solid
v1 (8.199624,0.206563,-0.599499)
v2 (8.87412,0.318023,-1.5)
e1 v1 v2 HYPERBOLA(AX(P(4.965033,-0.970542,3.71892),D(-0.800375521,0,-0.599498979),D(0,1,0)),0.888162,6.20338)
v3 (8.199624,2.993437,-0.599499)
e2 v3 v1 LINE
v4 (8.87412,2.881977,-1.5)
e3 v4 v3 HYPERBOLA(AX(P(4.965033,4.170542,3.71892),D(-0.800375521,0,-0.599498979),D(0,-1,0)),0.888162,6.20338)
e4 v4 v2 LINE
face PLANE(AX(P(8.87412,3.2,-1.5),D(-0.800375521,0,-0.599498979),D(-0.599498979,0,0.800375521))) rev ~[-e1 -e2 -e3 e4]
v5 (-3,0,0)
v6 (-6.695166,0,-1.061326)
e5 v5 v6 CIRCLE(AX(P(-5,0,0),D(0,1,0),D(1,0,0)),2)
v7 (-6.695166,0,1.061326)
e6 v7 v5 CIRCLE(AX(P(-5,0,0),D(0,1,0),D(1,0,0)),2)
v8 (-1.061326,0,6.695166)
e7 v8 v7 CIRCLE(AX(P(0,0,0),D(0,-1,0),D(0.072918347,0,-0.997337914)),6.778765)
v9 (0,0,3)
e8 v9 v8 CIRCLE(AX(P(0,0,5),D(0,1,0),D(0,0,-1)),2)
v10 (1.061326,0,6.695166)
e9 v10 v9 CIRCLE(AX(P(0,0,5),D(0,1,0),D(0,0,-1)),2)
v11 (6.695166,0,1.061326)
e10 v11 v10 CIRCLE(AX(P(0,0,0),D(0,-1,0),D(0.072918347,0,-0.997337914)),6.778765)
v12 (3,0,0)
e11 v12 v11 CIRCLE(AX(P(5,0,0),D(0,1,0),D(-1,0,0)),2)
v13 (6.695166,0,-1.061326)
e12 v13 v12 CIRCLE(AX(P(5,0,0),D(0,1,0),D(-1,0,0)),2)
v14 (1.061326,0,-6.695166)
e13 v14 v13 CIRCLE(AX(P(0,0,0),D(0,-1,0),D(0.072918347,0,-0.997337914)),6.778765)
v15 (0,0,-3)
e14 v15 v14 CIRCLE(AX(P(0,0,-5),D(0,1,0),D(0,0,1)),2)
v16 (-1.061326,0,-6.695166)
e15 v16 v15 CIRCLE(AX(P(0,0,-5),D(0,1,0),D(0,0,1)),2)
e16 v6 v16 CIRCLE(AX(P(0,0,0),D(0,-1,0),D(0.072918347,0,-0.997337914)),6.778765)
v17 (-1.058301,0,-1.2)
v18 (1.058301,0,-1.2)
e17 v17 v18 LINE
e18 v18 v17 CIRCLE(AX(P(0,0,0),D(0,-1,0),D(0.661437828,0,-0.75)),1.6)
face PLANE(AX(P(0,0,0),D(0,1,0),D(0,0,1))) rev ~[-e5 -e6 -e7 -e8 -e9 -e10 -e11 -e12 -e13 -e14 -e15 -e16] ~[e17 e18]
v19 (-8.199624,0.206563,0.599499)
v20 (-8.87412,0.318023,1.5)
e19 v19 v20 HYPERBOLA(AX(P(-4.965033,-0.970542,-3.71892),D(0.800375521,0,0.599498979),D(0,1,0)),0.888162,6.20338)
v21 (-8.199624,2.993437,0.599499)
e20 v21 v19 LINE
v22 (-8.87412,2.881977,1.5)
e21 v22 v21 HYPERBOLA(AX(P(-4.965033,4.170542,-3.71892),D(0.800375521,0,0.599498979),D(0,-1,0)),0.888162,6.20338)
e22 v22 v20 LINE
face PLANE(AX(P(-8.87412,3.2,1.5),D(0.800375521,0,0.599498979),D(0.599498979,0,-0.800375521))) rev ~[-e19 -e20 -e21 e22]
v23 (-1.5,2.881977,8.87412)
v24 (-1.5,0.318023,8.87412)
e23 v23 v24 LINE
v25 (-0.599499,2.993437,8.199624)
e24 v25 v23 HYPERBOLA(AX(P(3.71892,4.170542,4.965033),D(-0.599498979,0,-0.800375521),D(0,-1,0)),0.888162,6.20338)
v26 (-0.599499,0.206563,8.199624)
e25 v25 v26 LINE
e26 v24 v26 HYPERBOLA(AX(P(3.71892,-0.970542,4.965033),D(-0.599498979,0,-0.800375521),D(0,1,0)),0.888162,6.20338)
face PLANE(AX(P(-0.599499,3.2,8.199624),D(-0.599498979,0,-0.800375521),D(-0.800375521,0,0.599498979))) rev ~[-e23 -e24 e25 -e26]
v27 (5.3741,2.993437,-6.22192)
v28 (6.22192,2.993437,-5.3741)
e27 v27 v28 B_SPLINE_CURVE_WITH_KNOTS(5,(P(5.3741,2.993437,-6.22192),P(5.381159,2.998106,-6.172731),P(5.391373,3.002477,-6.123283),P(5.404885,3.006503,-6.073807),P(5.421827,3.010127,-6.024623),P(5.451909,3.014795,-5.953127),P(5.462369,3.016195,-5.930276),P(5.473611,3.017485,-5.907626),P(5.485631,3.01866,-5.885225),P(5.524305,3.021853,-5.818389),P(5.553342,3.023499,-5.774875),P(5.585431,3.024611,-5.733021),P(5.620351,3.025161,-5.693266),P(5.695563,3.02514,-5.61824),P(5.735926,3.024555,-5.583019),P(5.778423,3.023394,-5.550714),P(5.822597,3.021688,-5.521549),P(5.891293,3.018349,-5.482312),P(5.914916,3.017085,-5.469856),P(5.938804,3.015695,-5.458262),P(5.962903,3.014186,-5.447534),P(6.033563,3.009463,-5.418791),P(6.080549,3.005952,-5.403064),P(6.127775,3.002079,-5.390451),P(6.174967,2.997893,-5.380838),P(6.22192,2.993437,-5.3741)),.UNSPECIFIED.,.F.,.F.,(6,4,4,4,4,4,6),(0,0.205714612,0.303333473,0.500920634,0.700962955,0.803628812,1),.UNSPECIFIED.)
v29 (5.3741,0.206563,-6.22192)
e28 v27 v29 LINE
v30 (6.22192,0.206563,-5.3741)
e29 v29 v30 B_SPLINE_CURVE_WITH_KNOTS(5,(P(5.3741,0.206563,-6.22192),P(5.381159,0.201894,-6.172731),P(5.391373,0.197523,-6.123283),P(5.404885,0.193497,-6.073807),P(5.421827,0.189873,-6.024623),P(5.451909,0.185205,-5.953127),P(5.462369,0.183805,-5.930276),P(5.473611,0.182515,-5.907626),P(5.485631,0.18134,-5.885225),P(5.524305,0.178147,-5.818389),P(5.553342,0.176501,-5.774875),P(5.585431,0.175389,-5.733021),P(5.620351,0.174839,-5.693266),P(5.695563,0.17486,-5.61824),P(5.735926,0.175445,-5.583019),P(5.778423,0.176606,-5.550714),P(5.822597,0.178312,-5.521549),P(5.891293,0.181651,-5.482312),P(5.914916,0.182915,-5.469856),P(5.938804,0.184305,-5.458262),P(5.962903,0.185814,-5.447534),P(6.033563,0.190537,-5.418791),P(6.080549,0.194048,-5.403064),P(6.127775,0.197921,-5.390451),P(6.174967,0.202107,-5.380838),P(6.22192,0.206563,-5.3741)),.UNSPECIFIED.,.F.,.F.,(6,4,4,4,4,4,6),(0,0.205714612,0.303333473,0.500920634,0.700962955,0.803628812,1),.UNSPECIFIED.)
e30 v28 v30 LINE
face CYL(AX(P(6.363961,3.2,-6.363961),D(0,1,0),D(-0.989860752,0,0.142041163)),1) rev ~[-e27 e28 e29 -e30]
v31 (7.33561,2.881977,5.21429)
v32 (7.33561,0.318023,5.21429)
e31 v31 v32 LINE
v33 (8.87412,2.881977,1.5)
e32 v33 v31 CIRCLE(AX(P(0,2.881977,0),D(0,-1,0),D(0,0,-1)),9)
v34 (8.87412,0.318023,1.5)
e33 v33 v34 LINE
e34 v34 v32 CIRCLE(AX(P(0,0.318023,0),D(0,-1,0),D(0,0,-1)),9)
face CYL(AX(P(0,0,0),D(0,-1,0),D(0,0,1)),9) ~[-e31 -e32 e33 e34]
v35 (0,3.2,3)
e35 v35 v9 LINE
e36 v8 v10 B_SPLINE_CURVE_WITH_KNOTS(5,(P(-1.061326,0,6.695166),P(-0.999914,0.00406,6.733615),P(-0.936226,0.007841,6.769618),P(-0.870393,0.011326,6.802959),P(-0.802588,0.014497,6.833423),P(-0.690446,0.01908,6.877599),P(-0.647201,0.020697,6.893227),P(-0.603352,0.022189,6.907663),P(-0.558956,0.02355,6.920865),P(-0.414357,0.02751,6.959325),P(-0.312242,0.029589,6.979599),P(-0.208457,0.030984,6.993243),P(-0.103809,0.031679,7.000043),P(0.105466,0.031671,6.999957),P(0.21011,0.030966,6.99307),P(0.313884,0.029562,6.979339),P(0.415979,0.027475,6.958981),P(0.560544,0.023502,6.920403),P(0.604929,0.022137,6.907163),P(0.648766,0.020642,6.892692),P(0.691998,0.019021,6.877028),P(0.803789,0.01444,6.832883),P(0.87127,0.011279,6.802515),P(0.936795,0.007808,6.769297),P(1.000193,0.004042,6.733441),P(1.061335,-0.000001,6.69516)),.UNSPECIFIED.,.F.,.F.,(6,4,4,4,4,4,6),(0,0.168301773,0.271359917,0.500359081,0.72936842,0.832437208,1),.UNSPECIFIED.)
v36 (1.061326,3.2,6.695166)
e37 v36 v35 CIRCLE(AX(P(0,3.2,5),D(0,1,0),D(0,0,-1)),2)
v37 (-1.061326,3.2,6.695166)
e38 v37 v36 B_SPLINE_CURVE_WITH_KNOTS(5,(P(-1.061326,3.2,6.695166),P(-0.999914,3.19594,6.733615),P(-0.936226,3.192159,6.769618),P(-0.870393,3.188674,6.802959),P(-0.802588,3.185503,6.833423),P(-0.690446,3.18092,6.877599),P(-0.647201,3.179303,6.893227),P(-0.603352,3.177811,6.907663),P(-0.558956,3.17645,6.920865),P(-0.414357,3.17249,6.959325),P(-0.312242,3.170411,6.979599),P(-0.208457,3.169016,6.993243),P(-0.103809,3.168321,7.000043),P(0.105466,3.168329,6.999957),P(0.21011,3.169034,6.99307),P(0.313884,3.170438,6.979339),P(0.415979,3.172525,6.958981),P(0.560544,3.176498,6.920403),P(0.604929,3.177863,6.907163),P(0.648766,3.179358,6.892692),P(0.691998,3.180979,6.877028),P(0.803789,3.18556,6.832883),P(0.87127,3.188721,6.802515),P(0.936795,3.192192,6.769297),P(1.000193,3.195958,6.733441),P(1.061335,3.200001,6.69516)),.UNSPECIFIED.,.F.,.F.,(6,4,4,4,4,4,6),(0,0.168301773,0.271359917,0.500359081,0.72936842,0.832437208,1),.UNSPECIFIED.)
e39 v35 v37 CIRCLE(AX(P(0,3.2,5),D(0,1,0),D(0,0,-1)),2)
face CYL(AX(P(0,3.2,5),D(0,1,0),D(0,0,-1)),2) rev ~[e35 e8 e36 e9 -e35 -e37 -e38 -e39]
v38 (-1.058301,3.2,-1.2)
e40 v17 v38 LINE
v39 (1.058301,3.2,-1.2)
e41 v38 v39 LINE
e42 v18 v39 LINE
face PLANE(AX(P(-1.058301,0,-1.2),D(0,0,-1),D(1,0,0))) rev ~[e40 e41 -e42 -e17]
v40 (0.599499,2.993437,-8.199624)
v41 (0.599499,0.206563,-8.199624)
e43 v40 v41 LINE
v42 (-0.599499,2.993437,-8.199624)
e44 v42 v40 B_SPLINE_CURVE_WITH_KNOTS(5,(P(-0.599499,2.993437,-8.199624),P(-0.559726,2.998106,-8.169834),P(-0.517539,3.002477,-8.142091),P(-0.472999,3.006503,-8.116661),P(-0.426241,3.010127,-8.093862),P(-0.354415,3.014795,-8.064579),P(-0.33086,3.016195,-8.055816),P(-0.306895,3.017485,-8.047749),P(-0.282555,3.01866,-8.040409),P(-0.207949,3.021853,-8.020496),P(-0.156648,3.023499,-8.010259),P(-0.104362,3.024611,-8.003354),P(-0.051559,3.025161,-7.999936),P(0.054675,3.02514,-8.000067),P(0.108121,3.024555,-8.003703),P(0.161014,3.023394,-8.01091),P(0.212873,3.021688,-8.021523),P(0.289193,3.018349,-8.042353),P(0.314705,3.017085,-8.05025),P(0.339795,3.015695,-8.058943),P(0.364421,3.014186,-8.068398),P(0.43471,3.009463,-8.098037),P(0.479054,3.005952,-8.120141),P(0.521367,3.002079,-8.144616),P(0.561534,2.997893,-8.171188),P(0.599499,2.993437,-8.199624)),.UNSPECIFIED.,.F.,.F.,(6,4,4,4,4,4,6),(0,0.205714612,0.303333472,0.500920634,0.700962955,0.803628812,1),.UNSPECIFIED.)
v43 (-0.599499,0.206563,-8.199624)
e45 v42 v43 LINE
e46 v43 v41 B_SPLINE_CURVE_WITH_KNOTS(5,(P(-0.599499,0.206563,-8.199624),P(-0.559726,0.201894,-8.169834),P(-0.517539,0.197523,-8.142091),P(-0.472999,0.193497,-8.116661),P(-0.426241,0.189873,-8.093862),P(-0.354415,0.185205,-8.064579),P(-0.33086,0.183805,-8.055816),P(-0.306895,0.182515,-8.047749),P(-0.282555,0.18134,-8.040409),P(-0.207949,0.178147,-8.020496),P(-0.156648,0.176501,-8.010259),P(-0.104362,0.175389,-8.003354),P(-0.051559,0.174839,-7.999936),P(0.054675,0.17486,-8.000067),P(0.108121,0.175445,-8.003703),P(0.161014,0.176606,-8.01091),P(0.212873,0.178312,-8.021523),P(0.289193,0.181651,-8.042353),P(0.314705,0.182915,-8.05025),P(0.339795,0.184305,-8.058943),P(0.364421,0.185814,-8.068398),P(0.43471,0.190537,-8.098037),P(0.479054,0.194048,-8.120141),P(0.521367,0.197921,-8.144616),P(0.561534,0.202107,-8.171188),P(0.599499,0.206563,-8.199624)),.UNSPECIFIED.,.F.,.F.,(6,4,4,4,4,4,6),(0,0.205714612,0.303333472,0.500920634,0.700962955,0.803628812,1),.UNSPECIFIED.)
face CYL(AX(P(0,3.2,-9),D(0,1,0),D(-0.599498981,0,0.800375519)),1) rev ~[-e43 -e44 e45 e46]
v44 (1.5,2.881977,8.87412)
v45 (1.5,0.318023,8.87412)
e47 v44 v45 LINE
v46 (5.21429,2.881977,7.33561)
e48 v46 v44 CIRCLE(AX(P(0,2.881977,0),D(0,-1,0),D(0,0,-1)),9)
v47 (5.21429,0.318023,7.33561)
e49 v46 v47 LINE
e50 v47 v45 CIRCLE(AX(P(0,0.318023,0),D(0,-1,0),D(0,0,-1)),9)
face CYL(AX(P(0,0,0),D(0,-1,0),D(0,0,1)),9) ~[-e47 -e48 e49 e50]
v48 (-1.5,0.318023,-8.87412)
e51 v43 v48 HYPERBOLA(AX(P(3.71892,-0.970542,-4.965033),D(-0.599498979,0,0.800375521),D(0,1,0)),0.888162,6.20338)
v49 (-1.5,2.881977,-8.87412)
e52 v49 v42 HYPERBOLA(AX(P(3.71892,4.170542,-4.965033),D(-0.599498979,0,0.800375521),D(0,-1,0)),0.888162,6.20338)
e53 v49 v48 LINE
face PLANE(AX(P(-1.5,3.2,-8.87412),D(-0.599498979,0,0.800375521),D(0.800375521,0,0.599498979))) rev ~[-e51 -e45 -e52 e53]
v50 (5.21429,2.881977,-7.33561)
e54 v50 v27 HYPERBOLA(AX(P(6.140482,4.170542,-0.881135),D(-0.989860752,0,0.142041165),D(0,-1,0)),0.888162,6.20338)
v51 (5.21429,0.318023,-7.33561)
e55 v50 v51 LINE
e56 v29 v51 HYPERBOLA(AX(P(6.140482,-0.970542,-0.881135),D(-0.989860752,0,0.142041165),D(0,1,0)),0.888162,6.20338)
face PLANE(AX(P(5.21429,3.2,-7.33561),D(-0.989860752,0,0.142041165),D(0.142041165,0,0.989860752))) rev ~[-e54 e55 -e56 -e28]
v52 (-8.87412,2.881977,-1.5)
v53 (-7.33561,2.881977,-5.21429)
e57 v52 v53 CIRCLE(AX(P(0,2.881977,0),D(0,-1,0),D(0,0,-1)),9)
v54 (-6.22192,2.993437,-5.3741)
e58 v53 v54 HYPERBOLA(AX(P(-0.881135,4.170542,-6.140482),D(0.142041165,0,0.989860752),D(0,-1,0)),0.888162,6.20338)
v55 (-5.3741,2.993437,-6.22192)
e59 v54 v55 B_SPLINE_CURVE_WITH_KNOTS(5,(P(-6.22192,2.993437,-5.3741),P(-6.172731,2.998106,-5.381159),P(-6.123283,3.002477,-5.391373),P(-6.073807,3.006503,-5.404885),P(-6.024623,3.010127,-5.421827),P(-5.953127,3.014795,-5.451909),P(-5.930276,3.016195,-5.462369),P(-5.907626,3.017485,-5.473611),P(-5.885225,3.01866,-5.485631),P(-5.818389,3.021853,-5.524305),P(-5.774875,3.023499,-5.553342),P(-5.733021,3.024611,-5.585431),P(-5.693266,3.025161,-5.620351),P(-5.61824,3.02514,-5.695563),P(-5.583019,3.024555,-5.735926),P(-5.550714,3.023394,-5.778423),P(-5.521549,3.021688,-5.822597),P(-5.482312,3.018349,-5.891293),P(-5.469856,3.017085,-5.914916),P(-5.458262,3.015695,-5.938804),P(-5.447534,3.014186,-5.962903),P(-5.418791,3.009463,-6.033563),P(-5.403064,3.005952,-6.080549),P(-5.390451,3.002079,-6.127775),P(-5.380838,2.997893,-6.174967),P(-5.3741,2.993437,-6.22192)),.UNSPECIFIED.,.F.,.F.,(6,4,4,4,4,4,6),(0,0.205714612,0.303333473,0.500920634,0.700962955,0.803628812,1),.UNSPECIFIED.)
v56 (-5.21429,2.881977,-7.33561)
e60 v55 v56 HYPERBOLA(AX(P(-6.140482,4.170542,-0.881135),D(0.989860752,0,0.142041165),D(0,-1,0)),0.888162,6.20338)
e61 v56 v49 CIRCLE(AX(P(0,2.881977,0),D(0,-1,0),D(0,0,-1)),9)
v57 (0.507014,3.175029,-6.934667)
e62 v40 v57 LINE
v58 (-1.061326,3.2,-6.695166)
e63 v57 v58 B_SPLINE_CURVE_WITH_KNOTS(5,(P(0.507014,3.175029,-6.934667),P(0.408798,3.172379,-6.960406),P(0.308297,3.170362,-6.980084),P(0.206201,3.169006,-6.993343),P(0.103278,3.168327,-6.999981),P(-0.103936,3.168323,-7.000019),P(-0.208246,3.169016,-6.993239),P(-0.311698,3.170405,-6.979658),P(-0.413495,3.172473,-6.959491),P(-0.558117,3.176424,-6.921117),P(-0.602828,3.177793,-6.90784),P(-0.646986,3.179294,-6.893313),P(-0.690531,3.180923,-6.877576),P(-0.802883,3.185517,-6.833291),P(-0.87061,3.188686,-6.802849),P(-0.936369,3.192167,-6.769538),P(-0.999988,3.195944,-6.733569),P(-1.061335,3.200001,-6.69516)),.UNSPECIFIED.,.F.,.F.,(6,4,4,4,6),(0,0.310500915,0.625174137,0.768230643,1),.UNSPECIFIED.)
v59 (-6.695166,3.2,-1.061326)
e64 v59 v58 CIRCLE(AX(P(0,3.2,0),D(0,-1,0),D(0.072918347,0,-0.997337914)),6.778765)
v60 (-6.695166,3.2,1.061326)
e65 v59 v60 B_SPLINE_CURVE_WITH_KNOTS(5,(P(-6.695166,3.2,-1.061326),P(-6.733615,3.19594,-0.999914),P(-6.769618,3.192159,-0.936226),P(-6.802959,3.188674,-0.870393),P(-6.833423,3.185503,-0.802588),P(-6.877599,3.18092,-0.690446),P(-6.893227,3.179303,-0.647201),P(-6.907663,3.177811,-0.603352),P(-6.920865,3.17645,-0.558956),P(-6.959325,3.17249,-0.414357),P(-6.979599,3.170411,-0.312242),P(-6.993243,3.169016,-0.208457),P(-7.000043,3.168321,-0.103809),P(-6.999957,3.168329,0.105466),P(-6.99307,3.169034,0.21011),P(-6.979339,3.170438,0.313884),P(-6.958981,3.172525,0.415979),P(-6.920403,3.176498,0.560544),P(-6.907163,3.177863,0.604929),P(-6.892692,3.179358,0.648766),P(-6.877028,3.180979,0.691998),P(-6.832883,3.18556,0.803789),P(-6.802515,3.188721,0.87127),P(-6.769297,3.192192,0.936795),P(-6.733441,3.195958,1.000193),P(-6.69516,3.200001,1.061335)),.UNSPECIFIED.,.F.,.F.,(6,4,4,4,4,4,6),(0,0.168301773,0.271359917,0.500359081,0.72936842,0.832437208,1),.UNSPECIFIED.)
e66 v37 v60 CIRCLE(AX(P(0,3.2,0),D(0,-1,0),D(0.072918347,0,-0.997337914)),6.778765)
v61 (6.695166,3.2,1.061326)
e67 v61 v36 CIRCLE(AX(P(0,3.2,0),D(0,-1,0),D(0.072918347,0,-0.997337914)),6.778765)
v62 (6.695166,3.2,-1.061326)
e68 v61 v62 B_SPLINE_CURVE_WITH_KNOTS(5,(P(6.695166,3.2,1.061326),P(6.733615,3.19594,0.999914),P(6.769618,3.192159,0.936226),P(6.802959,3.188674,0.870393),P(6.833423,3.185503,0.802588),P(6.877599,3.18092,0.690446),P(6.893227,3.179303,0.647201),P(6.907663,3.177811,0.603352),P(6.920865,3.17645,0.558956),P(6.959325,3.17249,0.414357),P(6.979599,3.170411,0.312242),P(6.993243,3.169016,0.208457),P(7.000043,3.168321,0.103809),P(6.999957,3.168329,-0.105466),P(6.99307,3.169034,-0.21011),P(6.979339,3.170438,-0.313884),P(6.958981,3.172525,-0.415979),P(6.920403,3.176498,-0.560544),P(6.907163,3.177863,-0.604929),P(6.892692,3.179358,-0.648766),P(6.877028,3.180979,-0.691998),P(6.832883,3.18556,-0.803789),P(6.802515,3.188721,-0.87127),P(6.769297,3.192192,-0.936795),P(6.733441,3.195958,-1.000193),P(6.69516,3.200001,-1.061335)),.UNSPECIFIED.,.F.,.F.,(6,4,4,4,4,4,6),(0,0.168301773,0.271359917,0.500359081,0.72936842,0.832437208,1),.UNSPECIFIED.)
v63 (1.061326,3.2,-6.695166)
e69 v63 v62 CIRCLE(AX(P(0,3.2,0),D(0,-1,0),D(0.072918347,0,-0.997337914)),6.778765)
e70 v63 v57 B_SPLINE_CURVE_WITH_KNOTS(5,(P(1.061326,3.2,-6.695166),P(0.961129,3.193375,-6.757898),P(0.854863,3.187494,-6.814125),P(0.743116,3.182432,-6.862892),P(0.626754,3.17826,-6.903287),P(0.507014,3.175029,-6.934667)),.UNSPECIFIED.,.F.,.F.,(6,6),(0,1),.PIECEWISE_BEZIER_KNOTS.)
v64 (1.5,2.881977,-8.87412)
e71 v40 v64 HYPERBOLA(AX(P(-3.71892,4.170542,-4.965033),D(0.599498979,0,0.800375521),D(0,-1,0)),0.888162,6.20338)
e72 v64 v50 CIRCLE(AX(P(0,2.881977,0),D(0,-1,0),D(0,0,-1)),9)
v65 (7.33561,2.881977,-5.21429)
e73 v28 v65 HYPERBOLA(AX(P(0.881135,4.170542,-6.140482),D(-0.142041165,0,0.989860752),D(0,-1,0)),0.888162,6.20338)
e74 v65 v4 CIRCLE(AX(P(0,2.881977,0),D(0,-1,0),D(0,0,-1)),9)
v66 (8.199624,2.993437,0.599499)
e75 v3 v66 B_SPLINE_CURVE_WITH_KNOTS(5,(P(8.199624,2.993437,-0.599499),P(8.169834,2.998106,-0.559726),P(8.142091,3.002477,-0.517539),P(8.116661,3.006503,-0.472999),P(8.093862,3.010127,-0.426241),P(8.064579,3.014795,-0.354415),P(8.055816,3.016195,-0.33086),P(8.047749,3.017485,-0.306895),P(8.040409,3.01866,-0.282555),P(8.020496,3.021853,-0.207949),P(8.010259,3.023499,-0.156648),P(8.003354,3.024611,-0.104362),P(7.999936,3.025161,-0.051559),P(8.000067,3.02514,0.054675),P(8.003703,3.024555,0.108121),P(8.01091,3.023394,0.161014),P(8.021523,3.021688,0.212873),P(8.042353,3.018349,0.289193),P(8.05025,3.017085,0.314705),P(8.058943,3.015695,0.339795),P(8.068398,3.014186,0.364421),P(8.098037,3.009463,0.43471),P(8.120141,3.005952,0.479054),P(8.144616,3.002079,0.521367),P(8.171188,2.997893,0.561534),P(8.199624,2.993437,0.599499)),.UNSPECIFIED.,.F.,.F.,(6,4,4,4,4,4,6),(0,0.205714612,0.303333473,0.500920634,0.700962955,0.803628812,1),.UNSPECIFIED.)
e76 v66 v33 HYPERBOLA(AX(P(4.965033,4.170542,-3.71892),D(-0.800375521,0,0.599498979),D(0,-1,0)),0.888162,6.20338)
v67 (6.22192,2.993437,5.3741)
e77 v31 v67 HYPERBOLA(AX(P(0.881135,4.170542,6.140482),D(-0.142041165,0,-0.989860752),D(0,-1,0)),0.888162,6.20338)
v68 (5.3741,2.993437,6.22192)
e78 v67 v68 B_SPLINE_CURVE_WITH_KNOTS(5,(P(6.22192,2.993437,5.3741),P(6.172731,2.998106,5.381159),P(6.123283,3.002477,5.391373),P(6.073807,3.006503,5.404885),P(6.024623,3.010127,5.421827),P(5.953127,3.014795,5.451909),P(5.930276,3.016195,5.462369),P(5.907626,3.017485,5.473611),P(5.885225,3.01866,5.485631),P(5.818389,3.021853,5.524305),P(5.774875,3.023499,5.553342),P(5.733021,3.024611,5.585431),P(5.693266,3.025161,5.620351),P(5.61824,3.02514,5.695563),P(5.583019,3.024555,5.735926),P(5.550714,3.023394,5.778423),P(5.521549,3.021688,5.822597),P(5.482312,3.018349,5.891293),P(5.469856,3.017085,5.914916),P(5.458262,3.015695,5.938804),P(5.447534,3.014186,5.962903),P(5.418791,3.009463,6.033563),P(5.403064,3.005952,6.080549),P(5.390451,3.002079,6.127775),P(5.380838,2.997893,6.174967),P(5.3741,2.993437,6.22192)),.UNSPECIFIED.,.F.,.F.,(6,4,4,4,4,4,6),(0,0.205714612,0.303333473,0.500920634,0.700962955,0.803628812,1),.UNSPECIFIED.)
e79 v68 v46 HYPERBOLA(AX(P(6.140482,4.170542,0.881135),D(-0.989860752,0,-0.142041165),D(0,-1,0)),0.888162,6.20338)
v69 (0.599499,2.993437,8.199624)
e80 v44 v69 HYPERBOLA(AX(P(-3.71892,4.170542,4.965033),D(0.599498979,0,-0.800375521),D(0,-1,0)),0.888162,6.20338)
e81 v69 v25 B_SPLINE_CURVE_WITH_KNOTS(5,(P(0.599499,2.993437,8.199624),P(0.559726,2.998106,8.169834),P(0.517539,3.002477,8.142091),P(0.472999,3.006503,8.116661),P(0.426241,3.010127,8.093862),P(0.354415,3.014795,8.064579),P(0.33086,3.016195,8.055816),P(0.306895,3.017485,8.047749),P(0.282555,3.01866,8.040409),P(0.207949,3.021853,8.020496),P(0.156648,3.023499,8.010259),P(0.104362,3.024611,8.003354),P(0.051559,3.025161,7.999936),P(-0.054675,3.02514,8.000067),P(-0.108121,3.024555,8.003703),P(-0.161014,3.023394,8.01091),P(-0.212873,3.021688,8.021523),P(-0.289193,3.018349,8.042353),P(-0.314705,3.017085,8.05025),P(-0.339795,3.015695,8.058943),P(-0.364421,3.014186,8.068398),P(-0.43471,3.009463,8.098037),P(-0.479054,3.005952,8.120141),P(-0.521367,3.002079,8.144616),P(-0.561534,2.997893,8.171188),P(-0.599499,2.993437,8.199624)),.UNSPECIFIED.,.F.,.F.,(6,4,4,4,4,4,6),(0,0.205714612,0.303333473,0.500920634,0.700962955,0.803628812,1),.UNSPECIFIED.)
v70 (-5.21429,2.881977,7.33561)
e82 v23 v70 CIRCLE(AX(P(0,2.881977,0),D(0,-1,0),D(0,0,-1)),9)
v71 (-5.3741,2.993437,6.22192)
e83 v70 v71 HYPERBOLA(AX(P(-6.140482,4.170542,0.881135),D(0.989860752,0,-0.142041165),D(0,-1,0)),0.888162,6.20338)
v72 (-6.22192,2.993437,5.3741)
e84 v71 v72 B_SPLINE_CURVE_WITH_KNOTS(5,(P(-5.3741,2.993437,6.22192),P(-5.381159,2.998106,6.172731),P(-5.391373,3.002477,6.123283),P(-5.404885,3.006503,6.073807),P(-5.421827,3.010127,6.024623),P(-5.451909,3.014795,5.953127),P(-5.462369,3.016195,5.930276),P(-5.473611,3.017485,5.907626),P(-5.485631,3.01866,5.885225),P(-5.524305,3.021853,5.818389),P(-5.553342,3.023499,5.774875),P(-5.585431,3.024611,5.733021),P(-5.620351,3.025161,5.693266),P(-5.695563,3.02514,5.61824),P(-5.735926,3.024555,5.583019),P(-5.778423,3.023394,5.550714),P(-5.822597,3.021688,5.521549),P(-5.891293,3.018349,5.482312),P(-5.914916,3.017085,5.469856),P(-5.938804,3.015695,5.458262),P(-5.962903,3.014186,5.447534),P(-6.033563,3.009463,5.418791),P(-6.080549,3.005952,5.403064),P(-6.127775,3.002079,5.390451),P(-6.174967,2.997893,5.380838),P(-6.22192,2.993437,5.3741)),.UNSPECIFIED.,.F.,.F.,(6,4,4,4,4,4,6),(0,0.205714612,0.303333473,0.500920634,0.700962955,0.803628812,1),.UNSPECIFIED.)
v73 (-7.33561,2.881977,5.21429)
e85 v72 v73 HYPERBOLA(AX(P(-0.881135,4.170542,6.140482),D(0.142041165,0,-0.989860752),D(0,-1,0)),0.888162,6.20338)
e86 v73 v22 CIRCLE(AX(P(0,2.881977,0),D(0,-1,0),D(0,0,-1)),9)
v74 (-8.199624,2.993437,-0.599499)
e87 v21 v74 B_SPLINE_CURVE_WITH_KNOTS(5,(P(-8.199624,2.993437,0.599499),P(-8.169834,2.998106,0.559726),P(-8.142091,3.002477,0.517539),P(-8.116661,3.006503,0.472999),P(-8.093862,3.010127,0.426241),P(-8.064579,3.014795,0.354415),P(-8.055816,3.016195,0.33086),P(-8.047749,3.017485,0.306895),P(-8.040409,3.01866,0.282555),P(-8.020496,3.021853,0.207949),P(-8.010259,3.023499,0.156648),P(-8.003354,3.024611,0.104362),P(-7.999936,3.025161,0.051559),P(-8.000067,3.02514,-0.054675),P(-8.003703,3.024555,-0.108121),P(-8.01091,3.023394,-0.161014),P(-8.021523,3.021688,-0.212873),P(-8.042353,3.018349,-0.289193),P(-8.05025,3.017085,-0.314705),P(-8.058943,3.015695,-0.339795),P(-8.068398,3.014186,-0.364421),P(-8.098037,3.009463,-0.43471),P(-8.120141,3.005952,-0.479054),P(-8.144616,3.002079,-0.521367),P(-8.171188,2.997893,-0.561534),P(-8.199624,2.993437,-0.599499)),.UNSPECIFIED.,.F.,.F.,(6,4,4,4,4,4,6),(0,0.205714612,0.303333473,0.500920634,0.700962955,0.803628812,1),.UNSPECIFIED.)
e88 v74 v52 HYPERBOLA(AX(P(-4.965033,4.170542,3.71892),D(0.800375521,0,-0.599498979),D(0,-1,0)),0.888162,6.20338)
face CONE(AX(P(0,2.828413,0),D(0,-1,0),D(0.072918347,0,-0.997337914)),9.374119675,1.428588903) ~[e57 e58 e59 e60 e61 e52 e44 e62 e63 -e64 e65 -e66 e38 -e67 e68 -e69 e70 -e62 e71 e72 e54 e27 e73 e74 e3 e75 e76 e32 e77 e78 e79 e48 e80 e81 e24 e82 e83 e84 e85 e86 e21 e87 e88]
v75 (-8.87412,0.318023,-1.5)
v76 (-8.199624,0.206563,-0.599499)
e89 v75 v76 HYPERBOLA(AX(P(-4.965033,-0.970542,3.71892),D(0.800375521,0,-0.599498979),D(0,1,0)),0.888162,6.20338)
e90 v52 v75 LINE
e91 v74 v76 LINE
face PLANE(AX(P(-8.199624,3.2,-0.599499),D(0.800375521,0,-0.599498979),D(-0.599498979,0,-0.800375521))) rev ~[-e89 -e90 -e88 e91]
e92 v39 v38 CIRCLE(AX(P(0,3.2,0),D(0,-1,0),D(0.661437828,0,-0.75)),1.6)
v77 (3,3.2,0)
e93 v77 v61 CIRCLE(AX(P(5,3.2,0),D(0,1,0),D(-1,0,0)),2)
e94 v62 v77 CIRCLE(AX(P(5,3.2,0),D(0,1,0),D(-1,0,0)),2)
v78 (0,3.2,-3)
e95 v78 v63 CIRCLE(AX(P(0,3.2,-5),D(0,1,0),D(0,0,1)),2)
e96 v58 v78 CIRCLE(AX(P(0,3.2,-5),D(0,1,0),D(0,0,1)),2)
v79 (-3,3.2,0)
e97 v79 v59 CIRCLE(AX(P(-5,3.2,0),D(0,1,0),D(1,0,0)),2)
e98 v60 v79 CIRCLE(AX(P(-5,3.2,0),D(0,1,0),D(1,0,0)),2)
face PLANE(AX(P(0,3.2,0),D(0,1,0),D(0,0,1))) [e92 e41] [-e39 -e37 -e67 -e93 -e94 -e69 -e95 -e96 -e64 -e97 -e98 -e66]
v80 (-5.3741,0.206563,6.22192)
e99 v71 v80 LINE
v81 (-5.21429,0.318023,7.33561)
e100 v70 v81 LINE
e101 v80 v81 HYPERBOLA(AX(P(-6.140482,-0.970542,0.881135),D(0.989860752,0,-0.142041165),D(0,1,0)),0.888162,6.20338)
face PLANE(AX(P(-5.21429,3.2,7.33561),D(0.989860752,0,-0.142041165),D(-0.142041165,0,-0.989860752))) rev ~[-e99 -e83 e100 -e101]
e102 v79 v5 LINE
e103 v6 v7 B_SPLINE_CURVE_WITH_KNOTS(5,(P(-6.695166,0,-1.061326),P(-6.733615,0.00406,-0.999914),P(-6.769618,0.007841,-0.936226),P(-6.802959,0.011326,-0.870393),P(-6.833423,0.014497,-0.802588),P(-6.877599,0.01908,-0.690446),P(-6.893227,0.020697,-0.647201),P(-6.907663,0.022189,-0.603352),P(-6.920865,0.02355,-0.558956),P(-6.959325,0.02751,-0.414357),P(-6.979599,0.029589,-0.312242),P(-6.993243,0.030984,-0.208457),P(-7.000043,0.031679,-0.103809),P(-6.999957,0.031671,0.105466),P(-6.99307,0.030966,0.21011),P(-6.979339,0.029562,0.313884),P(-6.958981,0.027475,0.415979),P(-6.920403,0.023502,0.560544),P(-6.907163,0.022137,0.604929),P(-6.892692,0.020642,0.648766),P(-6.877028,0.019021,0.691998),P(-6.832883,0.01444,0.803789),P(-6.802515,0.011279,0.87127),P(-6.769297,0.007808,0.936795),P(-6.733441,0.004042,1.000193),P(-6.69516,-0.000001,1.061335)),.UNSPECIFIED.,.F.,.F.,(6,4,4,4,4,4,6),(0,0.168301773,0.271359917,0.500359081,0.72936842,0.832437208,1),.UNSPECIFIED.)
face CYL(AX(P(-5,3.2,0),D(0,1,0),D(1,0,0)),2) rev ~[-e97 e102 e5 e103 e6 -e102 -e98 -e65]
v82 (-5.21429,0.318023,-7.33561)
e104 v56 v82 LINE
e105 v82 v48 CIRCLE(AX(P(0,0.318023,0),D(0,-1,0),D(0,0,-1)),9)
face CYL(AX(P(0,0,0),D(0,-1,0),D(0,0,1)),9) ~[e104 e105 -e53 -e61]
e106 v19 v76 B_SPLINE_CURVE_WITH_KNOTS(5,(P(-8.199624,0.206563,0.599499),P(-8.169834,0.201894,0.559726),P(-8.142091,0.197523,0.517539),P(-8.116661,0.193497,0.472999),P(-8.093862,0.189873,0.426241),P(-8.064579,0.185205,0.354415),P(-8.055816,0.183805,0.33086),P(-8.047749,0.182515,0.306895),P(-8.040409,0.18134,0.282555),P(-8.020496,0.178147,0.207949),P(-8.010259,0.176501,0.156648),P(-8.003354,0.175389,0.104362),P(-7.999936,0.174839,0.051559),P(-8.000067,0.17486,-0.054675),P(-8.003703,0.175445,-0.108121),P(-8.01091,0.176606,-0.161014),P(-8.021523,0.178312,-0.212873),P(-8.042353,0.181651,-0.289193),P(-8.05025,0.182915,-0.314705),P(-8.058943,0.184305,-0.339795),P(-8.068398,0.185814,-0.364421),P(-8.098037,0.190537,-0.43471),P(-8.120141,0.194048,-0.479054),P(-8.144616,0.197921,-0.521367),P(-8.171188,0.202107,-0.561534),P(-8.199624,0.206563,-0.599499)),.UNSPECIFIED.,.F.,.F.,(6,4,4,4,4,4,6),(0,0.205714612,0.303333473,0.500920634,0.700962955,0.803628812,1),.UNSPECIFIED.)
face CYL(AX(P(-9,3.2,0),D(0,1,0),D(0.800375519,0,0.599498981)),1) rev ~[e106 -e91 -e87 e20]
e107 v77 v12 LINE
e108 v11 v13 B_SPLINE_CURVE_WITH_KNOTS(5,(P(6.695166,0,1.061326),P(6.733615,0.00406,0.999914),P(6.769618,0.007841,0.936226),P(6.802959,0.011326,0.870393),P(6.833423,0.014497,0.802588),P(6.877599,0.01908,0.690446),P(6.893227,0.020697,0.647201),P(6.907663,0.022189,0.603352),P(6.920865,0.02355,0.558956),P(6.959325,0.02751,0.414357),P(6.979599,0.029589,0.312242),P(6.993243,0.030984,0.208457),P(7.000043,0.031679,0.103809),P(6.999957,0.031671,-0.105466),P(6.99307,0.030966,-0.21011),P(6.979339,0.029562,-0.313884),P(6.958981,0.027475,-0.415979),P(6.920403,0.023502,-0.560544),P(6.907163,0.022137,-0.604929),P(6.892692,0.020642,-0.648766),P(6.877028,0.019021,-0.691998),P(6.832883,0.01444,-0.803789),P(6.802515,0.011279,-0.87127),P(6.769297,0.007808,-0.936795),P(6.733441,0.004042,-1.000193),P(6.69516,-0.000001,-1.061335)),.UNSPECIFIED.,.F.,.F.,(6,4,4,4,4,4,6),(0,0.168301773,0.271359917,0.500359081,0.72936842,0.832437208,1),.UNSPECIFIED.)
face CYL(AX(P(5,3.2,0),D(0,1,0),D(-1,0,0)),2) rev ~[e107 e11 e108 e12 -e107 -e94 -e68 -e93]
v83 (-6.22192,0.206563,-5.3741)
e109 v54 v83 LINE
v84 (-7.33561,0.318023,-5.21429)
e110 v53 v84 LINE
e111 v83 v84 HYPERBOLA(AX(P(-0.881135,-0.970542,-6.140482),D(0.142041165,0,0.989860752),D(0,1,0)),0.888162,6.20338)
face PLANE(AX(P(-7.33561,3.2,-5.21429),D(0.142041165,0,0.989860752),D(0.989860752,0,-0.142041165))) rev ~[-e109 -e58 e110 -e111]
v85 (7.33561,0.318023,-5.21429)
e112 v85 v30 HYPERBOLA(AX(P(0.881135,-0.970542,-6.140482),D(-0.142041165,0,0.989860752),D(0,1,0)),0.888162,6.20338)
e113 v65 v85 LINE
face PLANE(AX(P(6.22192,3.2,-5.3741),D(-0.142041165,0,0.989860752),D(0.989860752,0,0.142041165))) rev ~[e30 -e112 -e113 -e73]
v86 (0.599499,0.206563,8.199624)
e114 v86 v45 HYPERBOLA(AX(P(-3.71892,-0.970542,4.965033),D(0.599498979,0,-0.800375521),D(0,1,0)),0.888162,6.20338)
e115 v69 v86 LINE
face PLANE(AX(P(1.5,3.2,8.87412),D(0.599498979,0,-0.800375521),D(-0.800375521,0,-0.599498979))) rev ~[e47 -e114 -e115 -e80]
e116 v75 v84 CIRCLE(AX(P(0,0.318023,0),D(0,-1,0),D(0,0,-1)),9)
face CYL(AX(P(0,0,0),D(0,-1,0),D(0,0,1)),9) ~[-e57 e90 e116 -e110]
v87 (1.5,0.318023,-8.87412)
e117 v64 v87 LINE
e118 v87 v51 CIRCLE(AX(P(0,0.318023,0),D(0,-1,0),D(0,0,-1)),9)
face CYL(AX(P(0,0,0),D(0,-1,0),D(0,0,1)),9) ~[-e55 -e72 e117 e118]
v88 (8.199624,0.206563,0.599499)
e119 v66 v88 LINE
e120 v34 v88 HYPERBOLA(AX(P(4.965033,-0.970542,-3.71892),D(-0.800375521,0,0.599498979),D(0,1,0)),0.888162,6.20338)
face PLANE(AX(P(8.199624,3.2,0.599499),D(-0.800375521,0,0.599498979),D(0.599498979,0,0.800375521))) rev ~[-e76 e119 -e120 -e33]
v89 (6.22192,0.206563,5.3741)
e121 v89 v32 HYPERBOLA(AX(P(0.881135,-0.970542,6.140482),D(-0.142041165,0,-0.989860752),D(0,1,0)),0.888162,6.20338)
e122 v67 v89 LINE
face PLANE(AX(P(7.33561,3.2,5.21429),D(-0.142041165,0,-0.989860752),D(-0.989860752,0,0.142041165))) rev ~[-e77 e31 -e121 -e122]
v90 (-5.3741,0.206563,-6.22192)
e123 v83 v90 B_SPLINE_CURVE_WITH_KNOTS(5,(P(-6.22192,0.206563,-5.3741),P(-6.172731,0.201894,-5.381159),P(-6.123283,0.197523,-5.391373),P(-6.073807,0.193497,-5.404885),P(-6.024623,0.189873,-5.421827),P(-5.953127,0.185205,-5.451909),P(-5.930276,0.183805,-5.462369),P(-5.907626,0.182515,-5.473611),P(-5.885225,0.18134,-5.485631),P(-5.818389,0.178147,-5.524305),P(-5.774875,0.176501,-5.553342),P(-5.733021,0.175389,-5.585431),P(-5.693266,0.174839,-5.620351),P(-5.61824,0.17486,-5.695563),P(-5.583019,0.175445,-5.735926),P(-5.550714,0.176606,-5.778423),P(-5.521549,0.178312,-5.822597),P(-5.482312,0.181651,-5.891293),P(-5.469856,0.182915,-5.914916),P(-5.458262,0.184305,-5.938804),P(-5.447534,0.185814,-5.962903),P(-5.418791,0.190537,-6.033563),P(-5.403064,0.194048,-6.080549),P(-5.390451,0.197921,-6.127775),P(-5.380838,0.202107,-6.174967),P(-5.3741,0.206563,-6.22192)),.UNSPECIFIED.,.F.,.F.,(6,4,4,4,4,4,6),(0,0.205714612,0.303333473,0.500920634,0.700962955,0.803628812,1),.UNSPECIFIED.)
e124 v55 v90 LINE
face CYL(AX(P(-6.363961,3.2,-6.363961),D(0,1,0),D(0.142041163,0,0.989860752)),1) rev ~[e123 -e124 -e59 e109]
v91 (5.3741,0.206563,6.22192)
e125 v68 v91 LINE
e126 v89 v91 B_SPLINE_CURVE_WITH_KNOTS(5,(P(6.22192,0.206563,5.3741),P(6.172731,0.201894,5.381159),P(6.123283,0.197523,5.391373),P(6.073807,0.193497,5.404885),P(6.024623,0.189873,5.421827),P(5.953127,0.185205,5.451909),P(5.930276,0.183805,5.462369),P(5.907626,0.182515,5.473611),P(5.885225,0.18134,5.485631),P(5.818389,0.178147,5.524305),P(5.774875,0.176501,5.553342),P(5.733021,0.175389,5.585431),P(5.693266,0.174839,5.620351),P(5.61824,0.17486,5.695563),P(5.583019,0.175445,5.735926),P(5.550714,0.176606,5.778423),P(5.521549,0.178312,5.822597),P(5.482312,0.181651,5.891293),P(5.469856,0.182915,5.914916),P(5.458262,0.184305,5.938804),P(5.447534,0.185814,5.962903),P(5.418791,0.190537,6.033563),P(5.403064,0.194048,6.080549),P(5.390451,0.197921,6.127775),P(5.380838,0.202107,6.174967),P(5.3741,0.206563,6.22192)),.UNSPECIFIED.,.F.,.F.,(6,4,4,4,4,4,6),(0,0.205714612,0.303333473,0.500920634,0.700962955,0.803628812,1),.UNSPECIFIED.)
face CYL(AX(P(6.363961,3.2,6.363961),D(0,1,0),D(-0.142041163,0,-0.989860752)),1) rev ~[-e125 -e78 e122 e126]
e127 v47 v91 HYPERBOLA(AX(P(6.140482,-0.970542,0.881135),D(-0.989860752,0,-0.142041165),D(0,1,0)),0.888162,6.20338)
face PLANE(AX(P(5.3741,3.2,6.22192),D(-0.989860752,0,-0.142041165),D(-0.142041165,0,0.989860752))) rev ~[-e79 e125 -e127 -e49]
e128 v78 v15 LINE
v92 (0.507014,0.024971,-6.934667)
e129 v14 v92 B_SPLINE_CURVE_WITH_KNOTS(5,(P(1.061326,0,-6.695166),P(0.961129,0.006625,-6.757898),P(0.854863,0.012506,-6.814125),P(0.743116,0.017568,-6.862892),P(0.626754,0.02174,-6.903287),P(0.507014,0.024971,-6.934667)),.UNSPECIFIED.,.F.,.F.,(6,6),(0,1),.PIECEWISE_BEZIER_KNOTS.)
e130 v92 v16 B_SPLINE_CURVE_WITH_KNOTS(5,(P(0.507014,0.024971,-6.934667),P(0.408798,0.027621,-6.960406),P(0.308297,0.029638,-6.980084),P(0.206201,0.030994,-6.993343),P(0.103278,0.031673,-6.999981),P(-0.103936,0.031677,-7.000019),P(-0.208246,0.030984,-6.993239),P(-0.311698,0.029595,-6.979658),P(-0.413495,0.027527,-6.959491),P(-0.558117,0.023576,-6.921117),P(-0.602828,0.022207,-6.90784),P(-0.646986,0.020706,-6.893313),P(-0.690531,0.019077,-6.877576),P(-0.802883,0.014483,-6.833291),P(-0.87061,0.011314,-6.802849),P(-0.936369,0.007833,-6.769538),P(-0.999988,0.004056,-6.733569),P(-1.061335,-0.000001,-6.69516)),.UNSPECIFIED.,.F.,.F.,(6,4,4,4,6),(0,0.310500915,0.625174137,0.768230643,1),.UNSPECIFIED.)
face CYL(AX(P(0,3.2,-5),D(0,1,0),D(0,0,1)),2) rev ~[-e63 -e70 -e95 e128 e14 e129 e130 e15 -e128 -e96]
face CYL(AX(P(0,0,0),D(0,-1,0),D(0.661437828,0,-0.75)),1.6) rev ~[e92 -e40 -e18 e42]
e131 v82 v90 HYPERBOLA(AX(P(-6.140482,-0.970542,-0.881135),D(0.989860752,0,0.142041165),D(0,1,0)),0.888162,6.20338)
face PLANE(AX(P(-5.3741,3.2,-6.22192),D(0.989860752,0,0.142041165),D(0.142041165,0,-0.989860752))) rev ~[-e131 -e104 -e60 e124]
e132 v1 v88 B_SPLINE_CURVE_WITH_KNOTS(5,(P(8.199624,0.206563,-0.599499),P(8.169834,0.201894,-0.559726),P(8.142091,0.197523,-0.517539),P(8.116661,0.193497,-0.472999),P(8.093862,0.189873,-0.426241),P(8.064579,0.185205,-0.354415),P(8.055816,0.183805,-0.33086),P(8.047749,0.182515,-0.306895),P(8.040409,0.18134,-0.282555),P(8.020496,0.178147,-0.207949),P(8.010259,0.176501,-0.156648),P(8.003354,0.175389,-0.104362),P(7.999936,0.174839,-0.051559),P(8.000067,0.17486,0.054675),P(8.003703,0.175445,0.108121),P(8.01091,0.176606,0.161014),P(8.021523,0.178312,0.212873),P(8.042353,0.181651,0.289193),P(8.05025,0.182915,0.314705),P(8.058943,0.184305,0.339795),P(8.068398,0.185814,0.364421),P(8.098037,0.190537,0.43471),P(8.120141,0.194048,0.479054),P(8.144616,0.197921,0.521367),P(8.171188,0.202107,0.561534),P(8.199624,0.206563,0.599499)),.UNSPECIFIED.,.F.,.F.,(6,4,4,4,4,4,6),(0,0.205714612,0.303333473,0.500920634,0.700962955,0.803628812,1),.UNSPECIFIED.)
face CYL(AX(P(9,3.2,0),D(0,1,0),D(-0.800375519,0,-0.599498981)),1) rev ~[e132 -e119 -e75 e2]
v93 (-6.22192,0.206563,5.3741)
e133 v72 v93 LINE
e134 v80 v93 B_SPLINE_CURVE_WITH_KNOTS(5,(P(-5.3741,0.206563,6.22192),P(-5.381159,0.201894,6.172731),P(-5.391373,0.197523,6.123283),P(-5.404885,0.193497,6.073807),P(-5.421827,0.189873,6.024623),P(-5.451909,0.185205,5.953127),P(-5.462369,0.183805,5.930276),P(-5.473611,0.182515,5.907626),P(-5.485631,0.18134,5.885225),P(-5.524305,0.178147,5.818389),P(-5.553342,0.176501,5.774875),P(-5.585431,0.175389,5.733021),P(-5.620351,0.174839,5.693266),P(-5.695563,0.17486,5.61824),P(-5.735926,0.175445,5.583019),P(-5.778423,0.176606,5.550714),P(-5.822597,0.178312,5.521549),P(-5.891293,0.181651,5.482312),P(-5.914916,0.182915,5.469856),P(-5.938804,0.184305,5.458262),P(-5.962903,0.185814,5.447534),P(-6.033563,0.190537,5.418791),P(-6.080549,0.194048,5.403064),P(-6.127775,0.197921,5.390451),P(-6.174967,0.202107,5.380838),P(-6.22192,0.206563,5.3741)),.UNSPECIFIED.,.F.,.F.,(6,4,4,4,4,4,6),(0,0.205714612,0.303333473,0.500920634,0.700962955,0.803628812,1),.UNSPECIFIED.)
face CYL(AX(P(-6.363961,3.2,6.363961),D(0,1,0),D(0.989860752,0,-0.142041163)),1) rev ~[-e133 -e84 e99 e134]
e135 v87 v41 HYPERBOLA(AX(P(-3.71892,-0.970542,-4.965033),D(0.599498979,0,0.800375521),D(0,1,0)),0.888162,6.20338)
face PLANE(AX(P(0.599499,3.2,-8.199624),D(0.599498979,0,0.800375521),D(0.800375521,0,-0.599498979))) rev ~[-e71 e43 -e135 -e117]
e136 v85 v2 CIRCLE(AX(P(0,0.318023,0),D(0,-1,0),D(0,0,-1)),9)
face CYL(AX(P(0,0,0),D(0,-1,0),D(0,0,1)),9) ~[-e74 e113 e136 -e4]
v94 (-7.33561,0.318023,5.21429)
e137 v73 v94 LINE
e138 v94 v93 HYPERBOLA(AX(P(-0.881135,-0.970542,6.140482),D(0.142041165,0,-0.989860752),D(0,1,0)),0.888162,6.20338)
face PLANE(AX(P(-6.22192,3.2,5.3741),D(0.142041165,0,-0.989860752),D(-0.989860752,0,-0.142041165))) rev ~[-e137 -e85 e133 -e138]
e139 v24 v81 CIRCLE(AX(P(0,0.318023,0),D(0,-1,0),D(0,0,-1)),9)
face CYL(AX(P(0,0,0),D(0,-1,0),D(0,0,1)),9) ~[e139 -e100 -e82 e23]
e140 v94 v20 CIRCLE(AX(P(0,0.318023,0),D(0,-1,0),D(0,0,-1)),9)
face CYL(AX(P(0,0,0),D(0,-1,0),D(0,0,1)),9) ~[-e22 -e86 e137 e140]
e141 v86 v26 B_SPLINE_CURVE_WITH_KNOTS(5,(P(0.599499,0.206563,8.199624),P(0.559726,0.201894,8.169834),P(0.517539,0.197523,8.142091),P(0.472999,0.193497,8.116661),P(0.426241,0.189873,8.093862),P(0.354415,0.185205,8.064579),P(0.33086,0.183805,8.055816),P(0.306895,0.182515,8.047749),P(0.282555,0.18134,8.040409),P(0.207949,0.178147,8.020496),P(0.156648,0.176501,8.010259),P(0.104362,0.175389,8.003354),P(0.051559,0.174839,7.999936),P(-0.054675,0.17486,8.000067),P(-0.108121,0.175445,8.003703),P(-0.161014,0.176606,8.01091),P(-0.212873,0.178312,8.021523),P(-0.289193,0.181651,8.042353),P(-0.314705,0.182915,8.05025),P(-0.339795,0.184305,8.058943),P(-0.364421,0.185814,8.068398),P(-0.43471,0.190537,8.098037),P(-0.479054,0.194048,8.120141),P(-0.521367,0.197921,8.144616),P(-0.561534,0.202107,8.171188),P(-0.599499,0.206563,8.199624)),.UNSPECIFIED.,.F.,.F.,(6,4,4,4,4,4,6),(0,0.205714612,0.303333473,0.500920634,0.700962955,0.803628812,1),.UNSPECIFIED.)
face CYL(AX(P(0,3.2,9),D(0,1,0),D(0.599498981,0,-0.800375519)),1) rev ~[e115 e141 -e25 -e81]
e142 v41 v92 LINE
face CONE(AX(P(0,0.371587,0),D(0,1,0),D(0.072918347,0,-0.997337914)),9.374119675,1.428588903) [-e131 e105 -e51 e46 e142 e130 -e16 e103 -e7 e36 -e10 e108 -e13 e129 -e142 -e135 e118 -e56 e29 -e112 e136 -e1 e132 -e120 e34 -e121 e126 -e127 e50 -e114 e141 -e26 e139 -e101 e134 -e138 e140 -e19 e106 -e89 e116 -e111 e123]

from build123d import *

# Parameters (mm, degrees)
SKETCH_1_R               = 9
EXTRUDE_1_DEPTH          = 3.2
CUT_EXTRUDE_2_REACH      = 15.124
PATTERN_CIRCULAR_1_COUNT = 8
CUT_EXTRUDE_1_REACH      = 14.951
SKETCH_3_R               = 2
PATTERN_CIRCULAR_2_COUNT = 4


with BuildPart() as part:
    # 草图1 → 凸台-拉伸1 (new body)
    with BuildSketch(Plane(origin=(0, 0, 0), x_dir=(1, 0, 0), z_dir=(0, 1, 0))):
        with Locations(Location((0, 0, 0), (0, 0, 270))):
            Circle(SKETCH_1_R)
        with BuildLine():
            Line((-1.058300524, 1.2), (1.058300524, 1.2))
            ThreePointArc((1.058300524, 1.2), (0, -1.6), (-1.058300524, 1.2))
        make_face(mode=Mode.SUBTRACT)
    extrude(amount=EXTRUDE_1_DEPTH)

    # 草图4 → 切除-拉伸2 (cut, up to next)
    with BuildSketch(Plane(origin=(0, 3.2, 0), x_dir=(1, 0, 0), z_dir=(0, 1, 0)), mode=Mode.PRIVATE) as cut_extrude_2_sk1:
        with BuildLine():
            Line((-1.5, 8.874119675), (-0.599498979, 8.19962448))
            ThreePointArc((-0.599498979, 8.19962448), (0, 8), (0.599498979, 8.19962448))
            Line((0.599498979, 8.19962448), (1.5, 8.874119675))
            ThreePointArc((1.5, 8.874119675), (0, 9), (-1.5, 8.874119675))
        make_face()
    cut_extrude_2_tool1 = extrude(cut_extrude_2_sk1.sketch, amount=-CUT_EXTRUDE_2_REACH, mode=Mode.PRIVATE) & part.part
    cut_extrude_2 = cut_extrude_2_tool1.solids().sort_by_distance((0, 3.2, -8.590322))[0]
    add(cut_extrude_2, mode=Mode.SUBTRACT)

    # 阵列(圆周)1: 切除-拉伸2 ×8 about axis
    pattern_circular_1_axis = Axis((0, 0, 0), (0, 1, 0))
    for i in range(1, PATTERN_CIRCULAR_1_COUNT):
        add(cut_extrude_2.rotate(pattern_circular_1_axis, i * 360 / PATTERN_CIRCULAR_1_COUNT), mode=Mode.SUBTRACT)

    # 草图3 → 切除-拉伸1 (cut, up to next)
    with BuildSketch(Plane(origin=(0, 3.2, 0), x_dir=(1, 0, 0), z_dir=(0, 1, 0)), mode=Mode.PRIVATE) as cut_extrude_1_sk1:
        with Locations(Location((0, 5, 0), (0, 0, 270))):
            Circle(SKETCH_3_R)
    cut_extrude_1_tool1 = extrude(cut_extrude_1_sk1.sketch, amount=-CUT_EXTRUDE_1_REACH, mode=Mode.PRIVATE) & part.part
    cut_extrude_1 = cut_extrude_1_tool1.solids().sort_by_distance((0, 3.2, -5))[0]
    add(cut_extrude_1, mode=Mode.SUBTRACT)

    # 阵列(圆周)2: 切除-拉伸1 ×4 about axis
    pattern_circular_2_axis = Axis((0, 0, 0), (0, 1, 0))
    for i in range(1, PATTERN_CIRCULAR_2_COUNT):
        add(cut_extrude_1.rotate(pattern_circular_2_axis, i * 360 / PATTERN_CIRCULAR_2_COUNT), mode=Mode.SUBTRACT)

    # 草图5 → 切除-旋转1 (revolve, cut)
    with BuildSketch(Plane(origin=(0, 0, 0), x_dir=(0, 0, -1), z_dir=(1, 0, 0)), mode=Mode.PRIVATE) as cut_revolve_1_sk:
        Polygon((9.374119675, 2.82841307), (6.778765119, 3.2), (9.374119675, 3.2), align=None)
    cut_revolve_1 = revolve(cut_revolve_1_sk.sketch.rotate(Axis((0, 3.2, 0), (0, -1, 0)), 4.181624795), axis=Axis((0, 3.2, 0), (0, -1, 0)), mode=Mode.SUBTRACT)

    # 镜向1: 切除-旋转1 across plane
    add(cut_revolve_1.mirror(Plane.ZX.offset(1.6)), mode=Mode.SUBTRACT)


solid = part.part
